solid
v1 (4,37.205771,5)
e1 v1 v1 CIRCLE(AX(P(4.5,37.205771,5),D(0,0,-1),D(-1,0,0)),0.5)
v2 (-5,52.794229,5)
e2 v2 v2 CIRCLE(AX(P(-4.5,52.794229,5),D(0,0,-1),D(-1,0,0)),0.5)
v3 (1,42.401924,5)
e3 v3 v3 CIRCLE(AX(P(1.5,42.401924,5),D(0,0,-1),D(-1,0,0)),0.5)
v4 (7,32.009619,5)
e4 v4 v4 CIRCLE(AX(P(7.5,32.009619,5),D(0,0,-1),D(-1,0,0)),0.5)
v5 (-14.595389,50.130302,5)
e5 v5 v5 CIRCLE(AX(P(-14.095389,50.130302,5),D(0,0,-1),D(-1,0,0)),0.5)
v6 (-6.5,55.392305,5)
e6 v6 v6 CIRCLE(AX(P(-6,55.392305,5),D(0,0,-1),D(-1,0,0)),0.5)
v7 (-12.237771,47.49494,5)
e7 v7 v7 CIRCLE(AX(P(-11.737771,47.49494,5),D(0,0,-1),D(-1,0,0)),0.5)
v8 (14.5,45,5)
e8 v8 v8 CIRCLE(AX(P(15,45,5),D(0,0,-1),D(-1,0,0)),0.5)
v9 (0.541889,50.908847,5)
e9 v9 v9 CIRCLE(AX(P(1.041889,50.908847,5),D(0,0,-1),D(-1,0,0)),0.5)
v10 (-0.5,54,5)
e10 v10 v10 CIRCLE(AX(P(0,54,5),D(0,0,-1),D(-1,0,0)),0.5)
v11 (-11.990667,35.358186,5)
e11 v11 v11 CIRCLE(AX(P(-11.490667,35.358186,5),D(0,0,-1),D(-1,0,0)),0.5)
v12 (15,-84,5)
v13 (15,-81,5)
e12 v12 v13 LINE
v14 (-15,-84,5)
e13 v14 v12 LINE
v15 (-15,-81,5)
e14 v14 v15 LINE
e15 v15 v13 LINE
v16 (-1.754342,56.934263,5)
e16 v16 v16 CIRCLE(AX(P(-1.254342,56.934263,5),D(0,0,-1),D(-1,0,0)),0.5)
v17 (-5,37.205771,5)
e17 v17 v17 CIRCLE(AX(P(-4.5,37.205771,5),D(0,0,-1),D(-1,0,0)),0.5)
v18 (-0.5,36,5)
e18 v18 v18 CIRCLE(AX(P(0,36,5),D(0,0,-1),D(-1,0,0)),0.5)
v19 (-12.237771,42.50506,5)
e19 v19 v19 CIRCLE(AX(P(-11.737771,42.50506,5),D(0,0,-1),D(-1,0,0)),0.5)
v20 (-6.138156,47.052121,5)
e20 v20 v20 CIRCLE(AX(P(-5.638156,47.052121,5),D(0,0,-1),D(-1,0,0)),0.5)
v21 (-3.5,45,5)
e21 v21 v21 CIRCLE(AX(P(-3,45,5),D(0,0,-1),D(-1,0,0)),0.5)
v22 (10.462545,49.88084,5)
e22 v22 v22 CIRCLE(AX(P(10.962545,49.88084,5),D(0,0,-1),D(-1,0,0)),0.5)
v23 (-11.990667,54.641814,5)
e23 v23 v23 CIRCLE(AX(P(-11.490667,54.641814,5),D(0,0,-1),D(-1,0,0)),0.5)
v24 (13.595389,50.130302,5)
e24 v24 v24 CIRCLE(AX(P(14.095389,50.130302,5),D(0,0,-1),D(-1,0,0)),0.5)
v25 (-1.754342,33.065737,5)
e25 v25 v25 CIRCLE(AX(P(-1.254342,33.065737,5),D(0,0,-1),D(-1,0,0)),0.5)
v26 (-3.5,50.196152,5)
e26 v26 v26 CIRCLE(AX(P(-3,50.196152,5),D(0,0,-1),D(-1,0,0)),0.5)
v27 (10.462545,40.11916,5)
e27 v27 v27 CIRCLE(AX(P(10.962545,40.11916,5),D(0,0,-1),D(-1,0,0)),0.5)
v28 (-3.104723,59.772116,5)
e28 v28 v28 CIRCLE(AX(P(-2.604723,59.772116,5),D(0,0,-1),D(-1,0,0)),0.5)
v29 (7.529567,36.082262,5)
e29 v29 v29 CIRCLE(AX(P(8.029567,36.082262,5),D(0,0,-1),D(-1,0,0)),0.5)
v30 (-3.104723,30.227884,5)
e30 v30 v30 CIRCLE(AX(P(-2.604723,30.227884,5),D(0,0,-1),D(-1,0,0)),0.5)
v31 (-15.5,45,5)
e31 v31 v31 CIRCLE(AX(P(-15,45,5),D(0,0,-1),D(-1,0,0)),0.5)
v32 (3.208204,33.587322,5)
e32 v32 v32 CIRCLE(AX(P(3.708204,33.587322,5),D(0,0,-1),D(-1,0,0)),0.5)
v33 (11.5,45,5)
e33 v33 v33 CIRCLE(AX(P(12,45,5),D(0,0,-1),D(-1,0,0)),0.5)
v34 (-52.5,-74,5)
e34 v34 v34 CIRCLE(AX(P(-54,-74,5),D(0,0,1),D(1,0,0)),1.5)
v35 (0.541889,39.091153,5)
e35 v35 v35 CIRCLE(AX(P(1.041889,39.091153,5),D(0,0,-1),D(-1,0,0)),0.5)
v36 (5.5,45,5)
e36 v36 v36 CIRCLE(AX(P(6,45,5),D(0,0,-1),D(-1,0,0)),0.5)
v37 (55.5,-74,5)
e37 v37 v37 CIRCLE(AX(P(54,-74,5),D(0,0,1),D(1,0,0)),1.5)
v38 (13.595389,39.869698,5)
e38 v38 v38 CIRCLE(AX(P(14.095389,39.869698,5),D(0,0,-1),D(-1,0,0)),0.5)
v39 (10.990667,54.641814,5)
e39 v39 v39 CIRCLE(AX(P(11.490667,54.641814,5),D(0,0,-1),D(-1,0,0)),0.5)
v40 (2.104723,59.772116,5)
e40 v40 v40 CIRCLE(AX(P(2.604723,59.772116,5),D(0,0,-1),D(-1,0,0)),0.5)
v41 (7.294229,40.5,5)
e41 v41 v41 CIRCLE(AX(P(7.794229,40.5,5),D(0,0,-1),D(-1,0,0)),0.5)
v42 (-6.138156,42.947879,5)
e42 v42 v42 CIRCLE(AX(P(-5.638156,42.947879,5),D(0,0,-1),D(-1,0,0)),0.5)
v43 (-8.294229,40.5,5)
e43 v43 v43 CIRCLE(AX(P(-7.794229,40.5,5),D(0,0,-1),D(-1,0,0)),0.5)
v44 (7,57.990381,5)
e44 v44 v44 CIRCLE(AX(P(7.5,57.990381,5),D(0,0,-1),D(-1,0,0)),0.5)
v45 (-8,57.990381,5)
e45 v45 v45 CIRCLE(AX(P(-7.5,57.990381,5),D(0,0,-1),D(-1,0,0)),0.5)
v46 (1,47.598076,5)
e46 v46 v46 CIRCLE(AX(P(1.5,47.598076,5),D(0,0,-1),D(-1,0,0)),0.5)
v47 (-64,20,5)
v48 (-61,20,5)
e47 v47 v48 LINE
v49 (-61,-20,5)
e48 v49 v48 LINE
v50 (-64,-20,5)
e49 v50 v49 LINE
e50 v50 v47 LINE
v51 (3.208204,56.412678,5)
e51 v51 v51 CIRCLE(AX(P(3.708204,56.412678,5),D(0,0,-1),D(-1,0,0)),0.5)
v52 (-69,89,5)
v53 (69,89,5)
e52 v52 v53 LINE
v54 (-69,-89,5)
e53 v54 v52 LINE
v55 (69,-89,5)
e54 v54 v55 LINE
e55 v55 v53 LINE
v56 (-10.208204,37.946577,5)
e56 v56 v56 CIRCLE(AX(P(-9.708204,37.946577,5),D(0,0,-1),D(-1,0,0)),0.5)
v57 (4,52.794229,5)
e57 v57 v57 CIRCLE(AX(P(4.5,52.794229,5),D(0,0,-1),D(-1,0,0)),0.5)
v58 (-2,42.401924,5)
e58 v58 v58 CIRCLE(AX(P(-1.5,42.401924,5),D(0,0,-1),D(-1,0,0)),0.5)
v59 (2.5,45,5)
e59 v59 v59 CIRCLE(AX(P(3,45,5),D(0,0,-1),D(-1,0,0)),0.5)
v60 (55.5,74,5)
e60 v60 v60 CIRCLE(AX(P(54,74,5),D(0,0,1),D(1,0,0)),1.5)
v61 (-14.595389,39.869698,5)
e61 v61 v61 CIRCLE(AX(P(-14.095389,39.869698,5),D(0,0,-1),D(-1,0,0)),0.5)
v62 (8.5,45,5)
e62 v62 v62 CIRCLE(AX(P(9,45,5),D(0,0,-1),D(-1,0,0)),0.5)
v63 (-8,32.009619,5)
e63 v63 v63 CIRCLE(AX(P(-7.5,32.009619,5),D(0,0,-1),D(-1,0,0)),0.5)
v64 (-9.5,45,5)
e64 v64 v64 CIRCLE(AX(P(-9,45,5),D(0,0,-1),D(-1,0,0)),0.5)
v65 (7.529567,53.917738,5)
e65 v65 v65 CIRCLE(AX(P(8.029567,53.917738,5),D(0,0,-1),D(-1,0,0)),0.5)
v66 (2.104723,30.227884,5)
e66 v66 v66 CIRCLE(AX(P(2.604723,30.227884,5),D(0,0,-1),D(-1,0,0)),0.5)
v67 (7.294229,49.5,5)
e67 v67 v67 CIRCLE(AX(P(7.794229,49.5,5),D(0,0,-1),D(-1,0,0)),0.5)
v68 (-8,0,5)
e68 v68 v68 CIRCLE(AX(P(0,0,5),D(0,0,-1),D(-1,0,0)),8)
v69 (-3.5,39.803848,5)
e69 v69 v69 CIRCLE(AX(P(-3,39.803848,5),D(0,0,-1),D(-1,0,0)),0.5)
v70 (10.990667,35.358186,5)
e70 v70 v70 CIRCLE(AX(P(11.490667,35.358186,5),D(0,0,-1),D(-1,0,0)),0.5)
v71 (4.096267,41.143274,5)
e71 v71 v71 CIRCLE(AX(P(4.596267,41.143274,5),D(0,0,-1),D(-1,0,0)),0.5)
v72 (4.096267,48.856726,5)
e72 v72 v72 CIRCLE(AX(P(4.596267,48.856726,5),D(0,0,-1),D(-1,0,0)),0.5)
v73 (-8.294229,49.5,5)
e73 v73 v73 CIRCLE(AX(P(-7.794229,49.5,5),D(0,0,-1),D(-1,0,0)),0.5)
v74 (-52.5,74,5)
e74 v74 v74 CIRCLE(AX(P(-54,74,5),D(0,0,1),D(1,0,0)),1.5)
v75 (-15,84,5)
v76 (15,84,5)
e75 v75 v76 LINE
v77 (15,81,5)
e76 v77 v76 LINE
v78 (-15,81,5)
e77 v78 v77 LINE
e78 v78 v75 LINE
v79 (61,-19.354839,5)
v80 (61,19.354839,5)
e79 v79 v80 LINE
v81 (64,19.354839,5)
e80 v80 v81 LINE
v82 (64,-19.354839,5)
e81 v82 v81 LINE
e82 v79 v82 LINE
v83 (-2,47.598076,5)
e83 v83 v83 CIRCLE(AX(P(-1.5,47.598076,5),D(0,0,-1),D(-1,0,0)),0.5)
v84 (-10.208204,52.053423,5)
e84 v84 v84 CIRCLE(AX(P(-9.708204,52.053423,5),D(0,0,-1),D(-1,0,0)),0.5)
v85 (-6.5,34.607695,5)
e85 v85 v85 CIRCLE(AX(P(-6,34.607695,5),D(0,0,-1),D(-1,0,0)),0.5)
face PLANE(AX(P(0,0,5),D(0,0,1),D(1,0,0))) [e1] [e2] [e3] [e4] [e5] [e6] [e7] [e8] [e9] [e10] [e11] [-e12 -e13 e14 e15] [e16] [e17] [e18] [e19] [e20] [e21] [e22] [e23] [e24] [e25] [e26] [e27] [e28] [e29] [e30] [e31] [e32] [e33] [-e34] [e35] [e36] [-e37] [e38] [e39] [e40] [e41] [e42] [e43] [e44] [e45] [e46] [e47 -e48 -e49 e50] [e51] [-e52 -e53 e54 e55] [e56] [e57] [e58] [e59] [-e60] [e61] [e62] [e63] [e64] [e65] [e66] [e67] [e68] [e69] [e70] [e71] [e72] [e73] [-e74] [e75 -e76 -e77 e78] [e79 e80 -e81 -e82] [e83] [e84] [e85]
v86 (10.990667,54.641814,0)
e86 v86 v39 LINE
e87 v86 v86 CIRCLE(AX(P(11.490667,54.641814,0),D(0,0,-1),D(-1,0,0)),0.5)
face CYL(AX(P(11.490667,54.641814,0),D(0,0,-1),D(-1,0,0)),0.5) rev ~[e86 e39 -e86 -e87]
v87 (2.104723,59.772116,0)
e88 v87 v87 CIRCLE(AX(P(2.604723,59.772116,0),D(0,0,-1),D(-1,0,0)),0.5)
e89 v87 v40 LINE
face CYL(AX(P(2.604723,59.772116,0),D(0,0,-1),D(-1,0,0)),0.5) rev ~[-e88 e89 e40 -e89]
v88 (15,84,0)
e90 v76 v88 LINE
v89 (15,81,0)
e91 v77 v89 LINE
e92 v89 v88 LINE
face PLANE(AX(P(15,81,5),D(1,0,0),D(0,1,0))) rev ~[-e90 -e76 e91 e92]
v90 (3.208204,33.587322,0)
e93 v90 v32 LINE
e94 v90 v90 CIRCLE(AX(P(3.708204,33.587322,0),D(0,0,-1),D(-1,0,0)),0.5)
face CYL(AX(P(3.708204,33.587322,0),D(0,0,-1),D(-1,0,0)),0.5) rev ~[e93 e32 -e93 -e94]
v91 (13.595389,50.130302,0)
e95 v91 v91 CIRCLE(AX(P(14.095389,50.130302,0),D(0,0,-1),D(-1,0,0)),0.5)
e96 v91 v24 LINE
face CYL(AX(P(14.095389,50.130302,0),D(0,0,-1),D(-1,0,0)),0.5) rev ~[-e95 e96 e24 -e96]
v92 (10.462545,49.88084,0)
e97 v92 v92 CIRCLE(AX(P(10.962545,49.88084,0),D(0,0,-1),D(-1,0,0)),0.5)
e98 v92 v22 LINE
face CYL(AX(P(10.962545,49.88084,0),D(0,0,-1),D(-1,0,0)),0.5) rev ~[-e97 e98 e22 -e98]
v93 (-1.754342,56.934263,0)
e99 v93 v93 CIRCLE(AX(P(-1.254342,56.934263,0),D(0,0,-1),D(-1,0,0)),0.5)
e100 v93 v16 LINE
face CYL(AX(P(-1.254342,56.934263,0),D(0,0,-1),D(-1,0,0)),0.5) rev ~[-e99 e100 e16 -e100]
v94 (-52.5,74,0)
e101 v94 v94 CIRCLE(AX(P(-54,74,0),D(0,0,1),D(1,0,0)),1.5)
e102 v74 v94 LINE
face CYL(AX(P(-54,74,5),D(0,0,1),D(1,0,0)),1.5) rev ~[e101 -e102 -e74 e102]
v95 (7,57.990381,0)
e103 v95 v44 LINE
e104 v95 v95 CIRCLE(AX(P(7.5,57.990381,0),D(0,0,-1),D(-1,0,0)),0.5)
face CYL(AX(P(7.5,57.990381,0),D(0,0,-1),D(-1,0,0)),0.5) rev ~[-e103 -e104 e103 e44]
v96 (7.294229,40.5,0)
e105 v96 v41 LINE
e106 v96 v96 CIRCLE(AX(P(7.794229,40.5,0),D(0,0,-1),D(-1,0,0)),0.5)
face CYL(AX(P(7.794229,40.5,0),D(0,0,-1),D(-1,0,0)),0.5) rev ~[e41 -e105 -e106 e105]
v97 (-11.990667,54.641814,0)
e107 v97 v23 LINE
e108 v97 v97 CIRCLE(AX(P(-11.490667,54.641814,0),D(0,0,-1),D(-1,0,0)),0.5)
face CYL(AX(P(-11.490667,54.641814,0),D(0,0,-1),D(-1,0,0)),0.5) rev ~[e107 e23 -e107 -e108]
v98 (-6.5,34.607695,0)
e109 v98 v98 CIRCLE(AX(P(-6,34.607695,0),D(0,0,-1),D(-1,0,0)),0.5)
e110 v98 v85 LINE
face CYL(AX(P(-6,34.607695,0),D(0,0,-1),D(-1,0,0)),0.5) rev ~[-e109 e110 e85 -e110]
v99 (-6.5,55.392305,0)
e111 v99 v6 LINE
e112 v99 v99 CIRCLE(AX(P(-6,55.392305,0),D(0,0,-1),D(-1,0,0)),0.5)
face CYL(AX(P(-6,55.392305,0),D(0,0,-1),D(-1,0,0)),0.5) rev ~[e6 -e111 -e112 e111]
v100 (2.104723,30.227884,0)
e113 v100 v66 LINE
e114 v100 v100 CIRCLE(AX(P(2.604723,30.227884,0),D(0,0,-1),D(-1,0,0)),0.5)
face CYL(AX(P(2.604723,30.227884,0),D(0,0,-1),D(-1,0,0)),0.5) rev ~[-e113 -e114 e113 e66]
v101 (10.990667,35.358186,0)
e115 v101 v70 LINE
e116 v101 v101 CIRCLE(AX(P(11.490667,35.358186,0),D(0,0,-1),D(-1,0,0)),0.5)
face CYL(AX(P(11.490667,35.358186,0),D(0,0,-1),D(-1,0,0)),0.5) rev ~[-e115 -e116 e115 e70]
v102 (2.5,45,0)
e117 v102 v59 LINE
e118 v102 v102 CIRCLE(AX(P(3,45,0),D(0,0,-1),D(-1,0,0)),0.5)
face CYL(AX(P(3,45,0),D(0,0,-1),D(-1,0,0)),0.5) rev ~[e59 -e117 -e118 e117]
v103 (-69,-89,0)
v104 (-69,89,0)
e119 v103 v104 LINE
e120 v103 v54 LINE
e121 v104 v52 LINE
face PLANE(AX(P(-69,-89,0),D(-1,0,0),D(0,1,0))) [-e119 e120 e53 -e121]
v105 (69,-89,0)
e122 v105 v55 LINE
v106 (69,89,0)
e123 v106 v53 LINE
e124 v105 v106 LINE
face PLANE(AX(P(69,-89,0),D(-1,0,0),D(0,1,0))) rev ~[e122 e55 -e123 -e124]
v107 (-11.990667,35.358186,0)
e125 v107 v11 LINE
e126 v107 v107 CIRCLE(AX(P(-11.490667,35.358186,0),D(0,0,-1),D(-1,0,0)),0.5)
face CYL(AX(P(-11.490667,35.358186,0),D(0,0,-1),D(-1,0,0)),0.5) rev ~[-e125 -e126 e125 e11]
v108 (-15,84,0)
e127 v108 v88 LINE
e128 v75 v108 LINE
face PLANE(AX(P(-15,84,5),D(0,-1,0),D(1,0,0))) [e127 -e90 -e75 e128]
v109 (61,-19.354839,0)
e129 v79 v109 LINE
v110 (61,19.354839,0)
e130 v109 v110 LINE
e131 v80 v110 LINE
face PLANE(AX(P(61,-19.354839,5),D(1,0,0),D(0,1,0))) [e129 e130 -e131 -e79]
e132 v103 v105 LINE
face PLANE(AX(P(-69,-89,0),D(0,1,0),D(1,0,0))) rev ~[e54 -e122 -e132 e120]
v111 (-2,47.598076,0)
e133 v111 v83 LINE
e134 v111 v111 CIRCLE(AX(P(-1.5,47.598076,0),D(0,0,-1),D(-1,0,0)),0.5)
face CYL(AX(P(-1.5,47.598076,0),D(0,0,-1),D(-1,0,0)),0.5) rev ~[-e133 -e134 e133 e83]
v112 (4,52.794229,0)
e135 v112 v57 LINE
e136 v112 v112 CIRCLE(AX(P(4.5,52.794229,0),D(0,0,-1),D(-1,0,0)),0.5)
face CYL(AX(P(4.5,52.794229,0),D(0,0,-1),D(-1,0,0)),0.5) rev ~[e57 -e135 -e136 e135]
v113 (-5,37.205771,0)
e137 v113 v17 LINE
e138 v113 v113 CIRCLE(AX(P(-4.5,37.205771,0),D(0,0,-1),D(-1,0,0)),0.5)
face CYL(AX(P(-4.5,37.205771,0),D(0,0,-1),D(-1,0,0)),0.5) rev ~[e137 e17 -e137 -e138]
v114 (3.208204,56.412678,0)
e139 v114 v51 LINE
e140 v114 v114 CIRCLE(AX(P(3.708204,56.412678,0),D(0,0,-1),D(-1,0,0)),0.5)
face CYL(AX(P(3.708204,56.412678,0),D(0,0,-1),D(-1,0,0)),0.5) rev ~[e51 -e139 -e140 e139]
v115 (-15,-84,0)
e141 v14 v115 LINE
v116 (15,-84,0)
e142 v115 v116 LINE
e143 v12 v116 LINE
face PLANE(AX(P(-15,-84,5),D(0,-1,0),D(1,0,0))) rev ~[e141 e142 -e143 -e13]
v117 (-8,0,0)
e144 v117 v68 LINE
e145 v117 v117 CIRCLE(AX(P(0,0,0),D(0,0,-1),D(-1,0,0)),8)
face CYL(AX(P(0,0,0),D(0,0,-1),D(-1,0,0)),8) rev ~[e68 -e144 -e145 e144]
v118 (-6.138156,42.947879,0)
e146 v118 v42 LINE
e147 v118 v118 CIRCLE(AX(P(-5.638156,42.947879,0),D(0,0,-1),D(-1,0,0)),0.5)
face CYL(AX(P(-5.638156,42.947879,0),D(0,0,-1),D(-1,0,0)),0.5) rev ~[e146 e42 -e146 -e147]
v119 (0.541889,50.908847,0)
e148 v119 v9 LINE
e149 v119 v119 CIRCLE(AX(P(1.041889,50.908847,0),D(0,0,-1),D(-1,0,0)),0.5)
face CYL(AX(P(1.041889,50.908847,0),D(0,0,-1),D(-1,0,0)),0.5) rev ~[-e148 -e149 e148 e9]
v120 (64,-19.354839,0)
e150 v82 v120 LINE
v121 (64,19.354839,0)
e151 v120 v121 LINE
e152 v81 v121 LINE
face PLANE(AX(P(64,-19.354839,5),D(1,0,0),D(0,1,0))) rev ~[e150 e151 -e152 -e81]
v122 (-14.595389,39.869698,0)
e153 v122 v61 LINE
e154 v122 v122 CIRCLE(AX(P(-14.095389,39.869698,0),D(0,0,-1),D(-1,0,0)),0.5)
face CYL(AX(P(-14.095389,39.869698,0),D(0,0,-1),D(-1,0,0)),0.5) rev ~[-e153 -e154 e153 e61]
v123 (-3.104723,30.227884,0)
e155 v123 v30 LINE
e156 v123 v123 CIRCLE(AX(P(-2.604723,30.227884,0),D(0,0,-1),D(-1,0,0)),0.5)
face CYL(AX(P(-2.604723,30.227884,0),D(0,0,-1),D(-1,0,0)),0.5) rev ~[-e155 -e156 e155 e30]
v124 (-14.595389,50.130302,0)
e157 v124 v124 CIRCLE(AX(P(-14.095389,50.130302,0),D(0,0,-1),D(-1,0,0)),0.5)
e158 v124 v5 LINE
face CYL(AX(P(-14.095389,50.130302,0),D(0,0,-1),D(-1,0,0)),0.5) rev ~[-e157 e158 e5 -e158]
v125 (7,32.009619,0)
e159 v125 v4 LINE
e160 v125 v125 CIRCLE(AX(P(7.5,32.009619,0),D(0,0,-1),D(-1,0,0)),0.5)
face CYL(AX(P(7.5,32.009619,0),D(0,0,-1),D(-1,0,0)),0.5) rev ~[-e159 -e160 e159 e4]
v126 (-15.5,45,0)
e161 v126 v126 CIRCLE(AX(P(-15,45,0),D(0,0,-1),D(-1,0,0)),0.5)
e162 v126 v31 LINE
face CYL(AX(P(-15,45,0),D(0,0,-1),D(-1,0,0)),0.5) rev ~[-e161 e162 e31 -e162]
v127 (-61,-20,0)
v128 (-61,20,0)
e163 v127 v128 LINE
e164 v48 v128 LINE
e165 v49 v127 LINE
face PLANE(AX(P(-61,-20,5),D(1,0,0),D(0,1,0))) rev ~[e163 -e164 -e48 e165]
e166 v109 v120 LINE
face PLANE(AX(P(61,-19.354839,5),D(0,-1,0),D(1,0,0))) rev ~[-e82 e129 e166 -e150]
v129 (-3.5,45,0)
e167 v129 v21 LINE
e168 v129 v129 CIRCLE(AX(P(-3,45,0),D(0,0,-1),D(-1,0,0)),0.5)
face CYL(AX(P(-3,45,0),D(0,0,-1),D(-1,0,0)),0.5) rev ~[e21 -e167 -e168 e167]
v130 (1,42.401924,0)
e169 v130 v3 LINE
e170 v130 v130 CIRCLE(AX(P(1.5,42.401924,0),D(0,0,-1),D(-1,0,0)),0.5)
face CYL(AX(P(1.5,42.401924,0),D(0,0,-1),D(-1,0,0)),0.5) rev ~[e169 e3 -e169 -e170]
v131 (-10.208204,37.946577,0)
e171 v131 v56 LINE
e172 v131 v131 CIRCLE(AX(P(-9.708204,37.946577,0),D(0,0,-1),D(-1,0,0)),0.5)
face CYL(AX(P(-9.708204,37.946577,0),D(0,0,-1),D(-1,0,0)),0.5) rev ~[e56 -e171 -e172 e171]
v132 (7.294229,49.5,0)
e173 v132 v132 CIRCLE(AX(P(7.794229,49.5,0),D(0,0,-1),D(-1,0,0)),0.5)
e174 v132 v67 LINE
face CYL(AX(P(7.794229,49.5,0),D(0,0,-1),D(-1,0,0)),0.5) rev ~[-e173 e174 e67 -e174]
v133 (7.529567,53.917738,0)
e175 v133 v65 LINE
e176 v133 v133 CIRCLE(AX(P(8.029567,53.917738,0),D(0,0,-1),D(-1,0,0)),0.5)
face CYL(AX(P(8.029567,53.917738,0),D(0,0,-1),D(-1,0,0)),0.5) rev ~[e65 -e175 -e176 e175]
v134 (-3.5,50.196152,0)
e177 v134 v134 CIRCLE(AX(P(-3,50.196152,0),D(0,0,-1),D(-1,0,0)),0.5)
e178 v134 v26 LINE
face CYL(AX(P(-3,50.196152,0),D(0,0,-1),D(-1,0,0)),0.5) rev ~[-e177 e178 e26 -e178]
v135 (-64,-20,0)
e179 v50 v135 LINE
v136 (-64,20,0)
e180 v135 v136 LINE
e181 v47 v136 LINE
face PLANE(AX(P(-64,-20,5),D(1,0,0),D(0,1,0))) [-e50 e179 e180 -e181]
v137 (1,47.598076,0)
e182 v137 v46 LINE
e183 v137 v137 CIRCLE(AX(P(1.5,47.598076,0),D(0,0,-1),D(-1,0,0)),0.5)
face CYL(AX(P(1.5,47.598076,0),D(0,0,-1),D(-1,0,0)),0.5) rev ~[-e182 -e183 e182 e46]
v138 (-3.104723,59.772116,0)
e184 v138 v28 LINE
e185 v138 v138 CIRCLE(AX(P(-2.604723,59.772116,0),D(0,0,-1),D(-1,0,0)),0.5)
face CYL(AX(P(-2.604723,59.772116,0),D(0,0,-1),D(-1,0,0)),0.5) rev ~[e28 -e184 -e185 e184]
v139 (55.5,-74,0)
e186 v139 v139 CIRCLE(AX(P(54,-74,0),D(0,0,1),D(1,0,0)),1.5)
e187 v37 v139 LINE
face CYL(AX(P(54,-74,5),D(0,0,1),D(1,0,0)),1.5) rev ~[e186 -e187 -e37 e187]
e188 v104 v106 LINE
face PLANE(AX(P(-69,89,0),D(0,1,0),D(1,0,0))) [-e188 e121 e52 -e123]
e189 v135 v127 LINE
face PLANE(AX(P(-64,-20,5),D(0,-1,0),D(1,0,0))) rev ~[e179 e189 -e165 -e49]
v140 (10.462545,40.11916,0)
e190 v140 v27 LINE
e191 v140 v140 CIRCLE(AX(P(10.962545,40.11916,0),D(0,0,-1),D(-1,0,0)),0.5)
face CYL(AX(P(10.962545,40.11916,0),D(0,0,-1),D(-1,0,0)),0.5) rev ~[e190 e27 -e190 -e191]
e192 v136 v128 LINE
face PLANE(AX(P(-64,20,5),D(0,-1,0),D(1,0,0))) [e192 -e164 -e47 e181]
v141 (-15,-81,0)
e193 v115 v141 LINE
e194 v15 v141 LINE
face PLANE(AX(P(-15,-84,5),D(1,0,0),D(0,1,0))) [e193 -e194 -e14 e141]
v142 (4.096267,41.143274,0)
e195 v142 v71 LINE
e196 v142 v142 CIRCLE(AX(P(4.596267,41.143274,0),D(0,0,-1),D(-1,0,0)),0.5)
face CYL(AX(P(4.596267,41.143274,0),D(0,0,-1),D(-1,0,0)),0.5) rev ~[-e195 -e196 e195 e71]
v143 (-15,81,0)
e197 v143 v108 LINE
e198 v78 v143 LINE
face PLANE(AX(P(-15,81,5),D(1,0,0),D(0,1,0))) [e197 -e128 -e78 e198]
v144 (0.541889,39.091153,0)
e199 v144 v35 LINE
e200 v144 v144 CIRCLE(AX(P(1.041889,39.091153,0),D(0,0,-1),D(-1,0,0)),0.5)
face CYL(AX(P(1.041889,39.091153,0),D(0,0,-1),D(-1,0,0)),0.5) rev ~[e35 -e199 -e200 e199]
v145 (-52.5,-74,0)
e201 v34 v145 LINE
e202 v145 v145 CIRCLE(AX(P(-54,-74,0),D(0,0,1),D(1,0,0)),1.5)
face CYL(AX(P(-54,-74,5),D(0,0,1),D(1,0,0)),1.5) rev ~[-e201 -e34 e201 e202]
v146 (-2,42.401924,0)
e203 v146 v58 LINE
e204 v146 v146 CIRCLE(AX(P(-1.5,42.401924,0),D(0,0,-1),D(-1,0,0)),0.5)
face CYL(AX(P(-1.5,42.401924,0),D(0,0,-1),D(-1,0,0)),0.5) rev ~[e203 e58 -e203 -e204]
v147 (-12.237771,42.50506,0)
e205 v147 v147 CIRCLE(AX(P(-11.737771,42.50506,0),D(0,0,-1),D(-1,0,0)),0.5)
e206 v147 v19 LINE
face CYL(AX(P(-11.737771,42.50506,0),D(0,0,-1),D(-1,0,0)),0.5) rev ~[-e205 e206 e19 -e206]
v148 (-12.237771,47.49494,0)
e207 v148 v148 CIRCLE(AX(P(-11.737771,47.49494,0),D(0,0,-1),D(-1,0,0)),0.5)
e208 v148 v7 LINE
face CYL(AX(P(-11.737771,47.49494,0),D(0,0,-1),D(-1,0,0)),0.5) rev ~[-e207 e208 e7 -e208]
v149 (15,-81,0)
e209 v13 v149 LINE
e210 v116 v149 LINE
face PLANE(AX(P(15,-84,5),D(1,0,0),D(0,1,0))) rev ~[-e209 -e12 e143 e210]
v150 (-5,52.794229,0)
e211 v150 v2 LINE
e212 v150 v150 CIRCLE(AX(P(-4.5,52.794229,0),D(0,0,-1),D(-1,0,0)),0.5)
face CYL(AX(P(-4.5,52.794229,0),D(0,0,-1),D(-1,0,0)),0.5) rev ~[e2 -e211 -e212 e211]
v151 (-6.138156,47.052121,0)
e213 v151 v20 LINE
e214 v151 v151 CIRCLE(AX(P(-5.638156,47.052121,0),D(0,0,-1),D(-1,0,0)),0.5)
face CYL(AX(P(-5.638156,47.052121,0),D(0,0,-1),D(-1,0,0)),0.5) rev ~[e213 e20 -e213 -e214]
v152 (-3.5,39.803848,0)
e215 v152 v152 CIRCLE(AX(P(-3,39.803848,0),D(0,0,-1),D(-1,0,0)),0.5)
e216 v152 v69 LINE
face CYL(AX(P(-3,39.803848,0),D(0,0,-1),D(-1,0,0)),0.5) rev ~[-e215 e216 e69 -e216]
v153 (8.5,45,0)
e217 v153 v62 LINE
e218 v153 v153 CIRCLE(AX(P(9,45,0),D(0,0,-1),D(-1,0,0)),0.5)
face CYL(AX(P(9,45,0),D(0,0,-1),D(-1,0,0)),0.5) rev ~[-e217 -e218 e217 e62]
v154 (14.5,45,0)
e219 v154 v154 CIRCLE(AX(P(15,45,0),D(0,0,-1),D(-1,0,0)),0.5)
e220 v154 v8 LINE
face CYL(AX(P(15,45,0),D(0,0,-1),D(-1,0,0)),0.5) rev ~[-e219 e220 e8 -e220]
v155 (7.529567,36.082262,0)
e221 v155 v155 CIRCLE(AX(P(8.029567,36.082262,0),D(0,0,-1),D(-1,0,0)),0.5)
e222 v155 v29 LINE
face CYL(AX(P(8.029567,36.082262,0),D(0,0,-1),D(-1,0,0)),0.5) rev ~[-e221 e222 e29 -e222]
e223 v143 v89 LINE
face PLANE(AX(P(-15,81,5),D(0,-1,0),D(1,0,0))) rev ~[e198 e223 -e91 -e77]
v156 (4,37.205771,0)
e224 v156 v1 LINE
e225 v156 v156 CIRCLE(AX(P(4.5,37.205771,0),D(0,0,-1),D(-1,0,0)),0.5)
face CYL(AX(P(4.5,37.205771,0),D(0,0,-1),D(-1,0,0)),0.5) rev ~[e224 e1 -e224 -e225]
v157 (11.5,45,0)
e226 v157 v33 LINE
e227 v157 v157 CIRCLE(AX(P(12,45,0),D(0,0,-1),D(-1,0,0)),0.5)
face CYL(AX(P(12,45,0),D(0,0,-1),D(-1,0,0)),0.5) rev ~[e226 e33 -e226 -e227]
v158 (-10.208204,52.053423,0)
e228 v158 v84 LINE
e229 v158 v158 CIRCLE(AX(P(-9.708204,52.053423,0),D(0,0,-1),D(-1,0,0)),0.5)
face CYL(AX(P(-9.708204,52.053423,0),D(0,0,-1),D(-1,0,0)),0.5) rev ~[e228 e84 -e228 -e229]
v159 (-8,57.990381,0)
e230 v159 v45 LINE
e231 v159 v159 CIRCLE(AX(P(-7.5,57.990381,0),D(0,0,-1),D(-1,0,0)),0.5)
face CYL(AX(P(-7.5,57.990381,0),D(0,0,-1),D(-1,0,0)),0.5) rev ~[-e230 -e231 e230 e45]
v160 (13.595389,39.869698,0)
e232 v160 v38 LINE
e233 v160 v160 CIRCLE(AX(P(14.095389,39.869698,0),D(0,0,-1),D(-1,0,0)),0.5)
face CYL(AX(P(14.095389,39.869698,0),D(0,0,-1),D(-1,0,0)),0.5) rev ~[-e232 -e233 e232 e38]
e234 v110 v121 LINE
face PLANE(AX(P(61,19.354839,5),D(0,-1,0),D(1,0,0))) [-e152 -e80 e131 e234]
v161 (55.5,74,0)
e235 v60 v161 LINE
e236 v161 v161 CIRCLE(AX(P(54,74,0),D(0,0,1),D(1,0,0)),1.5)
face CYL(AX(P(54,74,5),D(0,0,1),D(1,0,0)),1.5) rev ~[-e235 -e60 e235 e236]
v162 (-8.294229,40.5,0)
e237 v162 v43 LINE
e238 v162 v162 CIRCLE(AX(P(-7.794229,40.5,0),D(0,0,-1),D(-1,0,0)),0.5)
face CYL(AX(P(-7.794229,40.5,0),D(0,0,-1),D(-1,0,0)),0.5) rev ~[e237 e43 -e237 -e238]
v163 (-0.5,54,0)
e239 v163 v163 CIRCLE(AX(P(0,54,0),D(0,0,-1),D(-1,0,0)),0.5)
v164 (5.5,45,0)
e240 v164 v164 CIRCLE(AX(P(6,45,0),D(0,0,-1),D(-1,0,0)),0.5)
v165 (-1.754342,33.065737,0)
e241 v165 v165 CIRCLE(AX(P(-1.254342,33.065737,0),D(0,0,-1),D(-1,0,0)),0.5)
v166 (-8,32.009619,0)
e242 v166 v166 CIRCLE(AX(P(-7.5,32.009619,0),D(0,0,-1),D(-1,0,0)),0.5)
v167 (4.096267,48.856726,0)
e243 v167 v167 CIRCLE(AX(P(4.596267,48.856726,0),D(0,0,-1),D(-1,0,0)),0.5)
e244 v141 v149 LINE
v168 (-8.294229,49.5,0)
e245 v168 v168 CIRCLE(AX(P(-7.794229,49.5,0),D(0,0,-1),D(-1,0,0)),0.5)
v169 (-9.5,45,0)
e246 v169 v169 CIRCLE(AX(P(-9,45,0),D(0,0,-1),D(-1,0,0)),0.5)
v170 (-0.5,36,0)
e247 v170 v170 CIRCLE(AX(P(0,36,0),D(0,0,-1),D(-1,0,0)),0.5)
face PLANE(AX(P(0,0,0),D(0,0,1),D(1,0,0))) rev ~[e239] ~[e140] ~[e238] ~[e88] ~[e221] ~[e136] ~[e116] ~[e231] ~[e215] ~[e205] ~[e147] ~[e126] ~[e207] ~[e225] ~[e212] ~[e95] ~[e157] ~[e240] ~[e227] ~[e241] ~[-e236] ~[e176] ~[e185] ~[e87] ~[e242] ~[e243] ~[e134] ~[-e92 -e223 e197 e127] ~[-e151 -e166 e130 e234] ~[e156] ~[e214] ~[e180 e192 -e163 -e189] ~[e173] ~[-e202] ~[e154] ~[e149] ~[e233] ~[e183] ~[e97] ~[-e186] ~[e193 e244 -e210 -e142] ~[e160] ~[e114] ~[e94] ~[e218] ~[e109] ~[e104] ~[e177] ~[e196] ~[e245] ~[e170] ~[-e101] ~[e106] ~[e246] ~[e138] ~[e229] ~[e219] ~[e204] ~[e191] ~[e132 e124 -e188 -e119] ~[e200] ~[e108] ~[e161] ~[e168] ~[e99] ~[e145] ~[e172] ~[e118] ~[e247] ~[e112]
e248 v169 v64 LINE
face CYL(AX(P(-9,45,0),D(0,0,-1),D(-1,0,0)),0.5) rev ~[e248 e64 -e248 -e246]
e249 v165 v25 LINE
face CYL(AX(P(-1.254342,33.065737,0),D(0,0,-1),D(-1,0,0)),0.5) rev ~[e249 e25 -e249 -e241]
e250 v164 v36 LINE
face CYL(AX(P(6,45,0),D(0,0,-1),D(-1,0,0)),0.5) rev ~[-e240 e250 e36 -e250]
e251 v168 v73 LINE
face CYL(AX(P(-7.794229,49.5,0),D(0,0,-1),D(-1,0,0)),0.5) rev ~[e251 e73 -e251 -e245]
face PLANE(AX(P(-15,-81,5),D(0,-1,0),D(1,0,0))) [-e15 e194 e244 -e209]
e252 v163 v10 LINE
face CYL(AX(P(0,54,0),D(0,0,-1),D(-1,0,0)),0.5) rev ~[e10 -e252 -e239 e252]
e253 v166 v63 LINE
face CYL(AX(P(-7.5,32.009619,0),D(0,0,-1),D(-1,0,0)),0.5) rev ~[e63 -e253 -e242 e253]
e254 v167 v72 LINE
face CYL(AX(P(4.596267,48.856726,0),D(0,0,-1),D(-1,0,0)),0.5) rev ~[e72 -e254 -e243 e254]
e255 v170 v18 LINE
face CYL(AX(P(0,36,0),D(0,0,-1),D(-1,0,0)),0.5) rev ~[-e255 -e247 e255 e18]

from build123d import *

# Parameters (mm, degrees)
SKETCH2_W           = 138
SKETCH2_H           = 178
BOSS_EXTRUDE1_DEPTH = 5
SKETCH3_W           = 30
SKETCH3_H           = 3
CUT_EXTRUDE1_DEPTH  = 6
SKETCH4_W           = 30
SKETCH4_H           = 3
CUT_EXTRUDE2_DEPTH  = 8
SKETCH6_W           = 3
SKETCH6_H           = 38.70967742
CUT_EXTRUDE3_DEPTH  = 8
SKETCH5_W           = 3
SKETCH5_H           = 40
CUT_EXTRUDE4_DEPTH  = 8
SKETCH8_R           = 1.5
CUT_EXTRUDE5_DEPTH  = 6
SKETCH10_R          = 8
CUT_EXTRUDE8_DEPTH  = 10
SKETCH11_R          = 0.5
CUT_EXTRUDE10_DEPTH = 10


with BuildPart() as part:
    # Sketch2 → Boss-Extrude1 (new body)
    with BuildSketch(Plane.XY):
        Rectangle(SKETCH2_W, SKETCH2_H)
    extrude(amount=BOSS_EXTRUDE1_DEPTH)

    # Sketch3 → Cut-Extrude1 (cut, through all)
    with BuildSketch(Plane.XY.offset(5)):
        with Locations((0, 82.5)):
            Rectangle(SKETCH3_W, SKETCH3_H)
    extrude(amount=-CUT_EXTRUDE1_DEPTH, mode=Mode.SUBTRACT)

    # Sketch4 → Cut-Extrude2 (cut)
    with BuildSketch(Plane.XY.offset(5)):
        with Locations((0, -82.5)):
            Rectangle(SKETCH4_W, SKETCH4_H)
    extrude(amount=-CUT_EXTRUDE2_DEPTH, mode=Mode.SUBTRACT)

    # Sketch6 → Cut-Extrude3 (cut)
    with BuildSketch(Plane.XY.offset(5)):
        with Locations((62.5, 0)):
            Rectangle(SKETCH6_W, SKETCH6_H)
    extrude(amount=-CUT_EXTRUDE3_DEPTH, mode=Mode.SUBTRACT)

    # Sketch5 → Cut-Extrude4 (cut)
    with BuildSketch(Plane.XY.offset(5)):
        with Locations((-62.5, 0)):
            Rectangle(SKETCH5_W, SKETCH5_H)
    extrude(amount=-CUT_EXTRUDE4_DEPTH, mode=Mode.SUBTRACT)

    # Sketch8 → Cut-Extrude5 (cut, through all)
    with BuildSketch(Plane.XY.offset(5)):
        with Locations((54, -74)):
            Circle(SKETCH8_R)
        with Locations((54, 74)):
            Circle(SKETCH8_R)
        with Locations((-54, 74)):
            Circle(SKETCH8_R)
        with Locations((-54, -74)):
            Circle(SKETCH8_R)
    extrude(amount=-CUT_EXTRUDE5_DEPTH, mode=Mode.SUBTRACT)

    # Sketch10 → Cut-Extrude8 (cut)
    with BuildSketch(Plane(origin=(0, 0, 0), x_dir=(-1, 0, 0), z_dir=(0, 0, -1))):
        Circle(SKETCH10_R)
    extrude(amount=-CUT_EXTRUDE8_DEPTH, mode=Mode.SUBTRACT)

    # Sketch11 → Cut-Extrude10 (cut)
    with BuildSketch(Plane(origin=(0, 0, 0), x_dir=(-1, 0, 0), z_dir=(0, 0, -1))):
        with Locations((-3, 45)):
            Circle(SKETCH11_R)
        with Locations((-1.5, 47.598076211)):
            Circle(SKETCH11_R)
        with Locations((1.5, 47.598076211)):
            Circle(SKETCH11_R)
        with Locations((3, 45)):
            Circle(SKETCH11_R)
        with Locations((1.5, 42.401923789)):
            Circle(SKETCH11_R)
        with Locations((-1.5, 42.401923789)):
            Circle(SKETCH11_R)
        with Locations((-6, 45)):
            Circle(SKETCH11_R)
        with Locations((-9, 45)):
            Circle(SKETCH11_R)
        with Locations((-12, 45)):
            Circle(SKETCH11_R)
        with Locations((-15, 45)):
            Circle(SKETCH11_R)
        with Locations((-4.596266659, 48.856725658)):
            Circle(SKETCH11_R)
        with Locations((-1.041889066, 50.908846518)):
            Circle(SKETCH11_R)
        with Locations((3, 50.196152423)):
            Circle(SKETCH11_R)
        with Locations((5.638155725, 47.05212086)):
            Circle(SKETCH11_R)
        with Locations((5.638155725, 42.94787914)):
            Circle(SKETCH11_R)
        with Locations((3, 39.803847577)):
            Circle(SKETCH11_R)
        with Locations((-1.041889066, 39.091153482)):
            Circle(SKETCH11_R)
        with Locations((-4.596266659, 41.143274342)):
            Circle(SKETCH11_R)
        with Locations((-7.794228634, 49.5)):
            Circle(SKETCH11_R)
        with Locations((-4.5, 52.794228634)):
            Circle(SKETCH11_R)
        with Locations((0, 54)):
            Circle(SKETCH11_R)
        with Locations((4.5, 52.794228634)):
            Circle(SKETCH11_R)
        with Locations((7.794228634, 49.5)):
            Circle(SKETCH11_R)
        with Locations((9, 45)):
            Circle(SKETCH11_R)
        with Locations((7.794228634, 40.5)):
            Circle(SKETCH11_R)
        with Locations((4.5, 37.205771366)):
            Circle(SKETCH11_R)
        with Locations((0, 36)):
            Circle(SKETCH11_R)
        with Locations((-4.5, 37.205771366)):
            Circle(SKETCH11_R)
        with Locations((-10.962545492, 49.880839717)):
            Circle(SKETCH11_R)
        with Locations((-8.029567276, 53.917737906)):
            Circle(SKETCH11_R)
        with Locations((-3.708203932, 56.412678196)):
            Circle(SKETCH11_R)
        with Locations((1.254341559, 56.934262744)):
            Circle(SKETCH11_R)
        with Locations((6, 55.392304845)):
            Circle(SKETCH11_R)
        with Locations((9.708203932, 52.053423028)):
            Circle(SKETCH11_R)
        with Locations((11.737771209, 47.49494029)):
            Circle(SKETCH11_R)
        with Locations((11.737771209, 42.50505971)):
            Circle(SKETCH11_R)
        with Locations((9.708203932, 37.946576972)):
            Circle(SKETCH11_R)
        with Locations((6, 34.607695155)):
            Circle(SKETCH11_R)
        with Locations((1.254341559, 33.065737256)):
            Circle(SKETCH11_R)
        with Locations((-3.708203932, 33.587321804)):
            Circle(SKETCH11_R)
        with Locations((-14.095389312, 50.13030215)):
            Circle(SKETCH11_R)
        with Locations((-11.490666647, 54.641814145)):
            Circle(SKETCH11_R)
        with Locations((-7.5, 57.990381057)):
            Circle(SKETCH11_R)
        with Locations((-2.604722665, 59.772116295)):
            Circle(SKETCH11_R)
        with Locations((2.604722665, 59.772116295)):
            Circle(SKETCH11_R)
        with Locations((7.5, 57.990381057)):
            Circle(SKETCH11_R)
        with Locations((11.490666647, 54.641814145)):
            Circle(SKETCH11_R)
        with Locations((14.095389312, 50.13030215)):
            Circle(SKETCH11_R)
        with Locations((15, 45)):
            Circle(SKETCH11_R)
        with Locations((14.095389312, 39.86969785)):
            Circle(SKETCH11_R)
        with Locations((11.490666647, 35.358185855)):
            Circle(SKETCH11_R)
        with Locations((7.5, 32.009618943)):
            Circle(SKETCH11_R)
        with Locations((-7.794228634, 40.5)):
            Circle(SKETCH11_R)
        with Locations((-8.029567276, 36.082262094)):
            Circle(SKETCH11_R)
        with Locations((-10.962545492, 40.119160283)):
            Circle(SKETCH11_R)
        with Locations((2.604722665, 30.227883705)):
            Circle(SKETCH11_R)
        with Locations((-2.604722665, 30.227883705)):
            Circle(SKETCH11_R)
        with Locations((-7.5, 32.009618943)):
            Circle(SKETCH11_R)
        with Locations((-11.490666647, 35.358185855)):
            Circle(SKETCH11_R)
        with Locations((-14.095389312, 39.86969785)):
            Circle(SKETCH11_R)
    extrude(amount=-CUT_EXTRUDE10_DEPTH, mode=Mode.SUBTRACT)


solid = part.part
